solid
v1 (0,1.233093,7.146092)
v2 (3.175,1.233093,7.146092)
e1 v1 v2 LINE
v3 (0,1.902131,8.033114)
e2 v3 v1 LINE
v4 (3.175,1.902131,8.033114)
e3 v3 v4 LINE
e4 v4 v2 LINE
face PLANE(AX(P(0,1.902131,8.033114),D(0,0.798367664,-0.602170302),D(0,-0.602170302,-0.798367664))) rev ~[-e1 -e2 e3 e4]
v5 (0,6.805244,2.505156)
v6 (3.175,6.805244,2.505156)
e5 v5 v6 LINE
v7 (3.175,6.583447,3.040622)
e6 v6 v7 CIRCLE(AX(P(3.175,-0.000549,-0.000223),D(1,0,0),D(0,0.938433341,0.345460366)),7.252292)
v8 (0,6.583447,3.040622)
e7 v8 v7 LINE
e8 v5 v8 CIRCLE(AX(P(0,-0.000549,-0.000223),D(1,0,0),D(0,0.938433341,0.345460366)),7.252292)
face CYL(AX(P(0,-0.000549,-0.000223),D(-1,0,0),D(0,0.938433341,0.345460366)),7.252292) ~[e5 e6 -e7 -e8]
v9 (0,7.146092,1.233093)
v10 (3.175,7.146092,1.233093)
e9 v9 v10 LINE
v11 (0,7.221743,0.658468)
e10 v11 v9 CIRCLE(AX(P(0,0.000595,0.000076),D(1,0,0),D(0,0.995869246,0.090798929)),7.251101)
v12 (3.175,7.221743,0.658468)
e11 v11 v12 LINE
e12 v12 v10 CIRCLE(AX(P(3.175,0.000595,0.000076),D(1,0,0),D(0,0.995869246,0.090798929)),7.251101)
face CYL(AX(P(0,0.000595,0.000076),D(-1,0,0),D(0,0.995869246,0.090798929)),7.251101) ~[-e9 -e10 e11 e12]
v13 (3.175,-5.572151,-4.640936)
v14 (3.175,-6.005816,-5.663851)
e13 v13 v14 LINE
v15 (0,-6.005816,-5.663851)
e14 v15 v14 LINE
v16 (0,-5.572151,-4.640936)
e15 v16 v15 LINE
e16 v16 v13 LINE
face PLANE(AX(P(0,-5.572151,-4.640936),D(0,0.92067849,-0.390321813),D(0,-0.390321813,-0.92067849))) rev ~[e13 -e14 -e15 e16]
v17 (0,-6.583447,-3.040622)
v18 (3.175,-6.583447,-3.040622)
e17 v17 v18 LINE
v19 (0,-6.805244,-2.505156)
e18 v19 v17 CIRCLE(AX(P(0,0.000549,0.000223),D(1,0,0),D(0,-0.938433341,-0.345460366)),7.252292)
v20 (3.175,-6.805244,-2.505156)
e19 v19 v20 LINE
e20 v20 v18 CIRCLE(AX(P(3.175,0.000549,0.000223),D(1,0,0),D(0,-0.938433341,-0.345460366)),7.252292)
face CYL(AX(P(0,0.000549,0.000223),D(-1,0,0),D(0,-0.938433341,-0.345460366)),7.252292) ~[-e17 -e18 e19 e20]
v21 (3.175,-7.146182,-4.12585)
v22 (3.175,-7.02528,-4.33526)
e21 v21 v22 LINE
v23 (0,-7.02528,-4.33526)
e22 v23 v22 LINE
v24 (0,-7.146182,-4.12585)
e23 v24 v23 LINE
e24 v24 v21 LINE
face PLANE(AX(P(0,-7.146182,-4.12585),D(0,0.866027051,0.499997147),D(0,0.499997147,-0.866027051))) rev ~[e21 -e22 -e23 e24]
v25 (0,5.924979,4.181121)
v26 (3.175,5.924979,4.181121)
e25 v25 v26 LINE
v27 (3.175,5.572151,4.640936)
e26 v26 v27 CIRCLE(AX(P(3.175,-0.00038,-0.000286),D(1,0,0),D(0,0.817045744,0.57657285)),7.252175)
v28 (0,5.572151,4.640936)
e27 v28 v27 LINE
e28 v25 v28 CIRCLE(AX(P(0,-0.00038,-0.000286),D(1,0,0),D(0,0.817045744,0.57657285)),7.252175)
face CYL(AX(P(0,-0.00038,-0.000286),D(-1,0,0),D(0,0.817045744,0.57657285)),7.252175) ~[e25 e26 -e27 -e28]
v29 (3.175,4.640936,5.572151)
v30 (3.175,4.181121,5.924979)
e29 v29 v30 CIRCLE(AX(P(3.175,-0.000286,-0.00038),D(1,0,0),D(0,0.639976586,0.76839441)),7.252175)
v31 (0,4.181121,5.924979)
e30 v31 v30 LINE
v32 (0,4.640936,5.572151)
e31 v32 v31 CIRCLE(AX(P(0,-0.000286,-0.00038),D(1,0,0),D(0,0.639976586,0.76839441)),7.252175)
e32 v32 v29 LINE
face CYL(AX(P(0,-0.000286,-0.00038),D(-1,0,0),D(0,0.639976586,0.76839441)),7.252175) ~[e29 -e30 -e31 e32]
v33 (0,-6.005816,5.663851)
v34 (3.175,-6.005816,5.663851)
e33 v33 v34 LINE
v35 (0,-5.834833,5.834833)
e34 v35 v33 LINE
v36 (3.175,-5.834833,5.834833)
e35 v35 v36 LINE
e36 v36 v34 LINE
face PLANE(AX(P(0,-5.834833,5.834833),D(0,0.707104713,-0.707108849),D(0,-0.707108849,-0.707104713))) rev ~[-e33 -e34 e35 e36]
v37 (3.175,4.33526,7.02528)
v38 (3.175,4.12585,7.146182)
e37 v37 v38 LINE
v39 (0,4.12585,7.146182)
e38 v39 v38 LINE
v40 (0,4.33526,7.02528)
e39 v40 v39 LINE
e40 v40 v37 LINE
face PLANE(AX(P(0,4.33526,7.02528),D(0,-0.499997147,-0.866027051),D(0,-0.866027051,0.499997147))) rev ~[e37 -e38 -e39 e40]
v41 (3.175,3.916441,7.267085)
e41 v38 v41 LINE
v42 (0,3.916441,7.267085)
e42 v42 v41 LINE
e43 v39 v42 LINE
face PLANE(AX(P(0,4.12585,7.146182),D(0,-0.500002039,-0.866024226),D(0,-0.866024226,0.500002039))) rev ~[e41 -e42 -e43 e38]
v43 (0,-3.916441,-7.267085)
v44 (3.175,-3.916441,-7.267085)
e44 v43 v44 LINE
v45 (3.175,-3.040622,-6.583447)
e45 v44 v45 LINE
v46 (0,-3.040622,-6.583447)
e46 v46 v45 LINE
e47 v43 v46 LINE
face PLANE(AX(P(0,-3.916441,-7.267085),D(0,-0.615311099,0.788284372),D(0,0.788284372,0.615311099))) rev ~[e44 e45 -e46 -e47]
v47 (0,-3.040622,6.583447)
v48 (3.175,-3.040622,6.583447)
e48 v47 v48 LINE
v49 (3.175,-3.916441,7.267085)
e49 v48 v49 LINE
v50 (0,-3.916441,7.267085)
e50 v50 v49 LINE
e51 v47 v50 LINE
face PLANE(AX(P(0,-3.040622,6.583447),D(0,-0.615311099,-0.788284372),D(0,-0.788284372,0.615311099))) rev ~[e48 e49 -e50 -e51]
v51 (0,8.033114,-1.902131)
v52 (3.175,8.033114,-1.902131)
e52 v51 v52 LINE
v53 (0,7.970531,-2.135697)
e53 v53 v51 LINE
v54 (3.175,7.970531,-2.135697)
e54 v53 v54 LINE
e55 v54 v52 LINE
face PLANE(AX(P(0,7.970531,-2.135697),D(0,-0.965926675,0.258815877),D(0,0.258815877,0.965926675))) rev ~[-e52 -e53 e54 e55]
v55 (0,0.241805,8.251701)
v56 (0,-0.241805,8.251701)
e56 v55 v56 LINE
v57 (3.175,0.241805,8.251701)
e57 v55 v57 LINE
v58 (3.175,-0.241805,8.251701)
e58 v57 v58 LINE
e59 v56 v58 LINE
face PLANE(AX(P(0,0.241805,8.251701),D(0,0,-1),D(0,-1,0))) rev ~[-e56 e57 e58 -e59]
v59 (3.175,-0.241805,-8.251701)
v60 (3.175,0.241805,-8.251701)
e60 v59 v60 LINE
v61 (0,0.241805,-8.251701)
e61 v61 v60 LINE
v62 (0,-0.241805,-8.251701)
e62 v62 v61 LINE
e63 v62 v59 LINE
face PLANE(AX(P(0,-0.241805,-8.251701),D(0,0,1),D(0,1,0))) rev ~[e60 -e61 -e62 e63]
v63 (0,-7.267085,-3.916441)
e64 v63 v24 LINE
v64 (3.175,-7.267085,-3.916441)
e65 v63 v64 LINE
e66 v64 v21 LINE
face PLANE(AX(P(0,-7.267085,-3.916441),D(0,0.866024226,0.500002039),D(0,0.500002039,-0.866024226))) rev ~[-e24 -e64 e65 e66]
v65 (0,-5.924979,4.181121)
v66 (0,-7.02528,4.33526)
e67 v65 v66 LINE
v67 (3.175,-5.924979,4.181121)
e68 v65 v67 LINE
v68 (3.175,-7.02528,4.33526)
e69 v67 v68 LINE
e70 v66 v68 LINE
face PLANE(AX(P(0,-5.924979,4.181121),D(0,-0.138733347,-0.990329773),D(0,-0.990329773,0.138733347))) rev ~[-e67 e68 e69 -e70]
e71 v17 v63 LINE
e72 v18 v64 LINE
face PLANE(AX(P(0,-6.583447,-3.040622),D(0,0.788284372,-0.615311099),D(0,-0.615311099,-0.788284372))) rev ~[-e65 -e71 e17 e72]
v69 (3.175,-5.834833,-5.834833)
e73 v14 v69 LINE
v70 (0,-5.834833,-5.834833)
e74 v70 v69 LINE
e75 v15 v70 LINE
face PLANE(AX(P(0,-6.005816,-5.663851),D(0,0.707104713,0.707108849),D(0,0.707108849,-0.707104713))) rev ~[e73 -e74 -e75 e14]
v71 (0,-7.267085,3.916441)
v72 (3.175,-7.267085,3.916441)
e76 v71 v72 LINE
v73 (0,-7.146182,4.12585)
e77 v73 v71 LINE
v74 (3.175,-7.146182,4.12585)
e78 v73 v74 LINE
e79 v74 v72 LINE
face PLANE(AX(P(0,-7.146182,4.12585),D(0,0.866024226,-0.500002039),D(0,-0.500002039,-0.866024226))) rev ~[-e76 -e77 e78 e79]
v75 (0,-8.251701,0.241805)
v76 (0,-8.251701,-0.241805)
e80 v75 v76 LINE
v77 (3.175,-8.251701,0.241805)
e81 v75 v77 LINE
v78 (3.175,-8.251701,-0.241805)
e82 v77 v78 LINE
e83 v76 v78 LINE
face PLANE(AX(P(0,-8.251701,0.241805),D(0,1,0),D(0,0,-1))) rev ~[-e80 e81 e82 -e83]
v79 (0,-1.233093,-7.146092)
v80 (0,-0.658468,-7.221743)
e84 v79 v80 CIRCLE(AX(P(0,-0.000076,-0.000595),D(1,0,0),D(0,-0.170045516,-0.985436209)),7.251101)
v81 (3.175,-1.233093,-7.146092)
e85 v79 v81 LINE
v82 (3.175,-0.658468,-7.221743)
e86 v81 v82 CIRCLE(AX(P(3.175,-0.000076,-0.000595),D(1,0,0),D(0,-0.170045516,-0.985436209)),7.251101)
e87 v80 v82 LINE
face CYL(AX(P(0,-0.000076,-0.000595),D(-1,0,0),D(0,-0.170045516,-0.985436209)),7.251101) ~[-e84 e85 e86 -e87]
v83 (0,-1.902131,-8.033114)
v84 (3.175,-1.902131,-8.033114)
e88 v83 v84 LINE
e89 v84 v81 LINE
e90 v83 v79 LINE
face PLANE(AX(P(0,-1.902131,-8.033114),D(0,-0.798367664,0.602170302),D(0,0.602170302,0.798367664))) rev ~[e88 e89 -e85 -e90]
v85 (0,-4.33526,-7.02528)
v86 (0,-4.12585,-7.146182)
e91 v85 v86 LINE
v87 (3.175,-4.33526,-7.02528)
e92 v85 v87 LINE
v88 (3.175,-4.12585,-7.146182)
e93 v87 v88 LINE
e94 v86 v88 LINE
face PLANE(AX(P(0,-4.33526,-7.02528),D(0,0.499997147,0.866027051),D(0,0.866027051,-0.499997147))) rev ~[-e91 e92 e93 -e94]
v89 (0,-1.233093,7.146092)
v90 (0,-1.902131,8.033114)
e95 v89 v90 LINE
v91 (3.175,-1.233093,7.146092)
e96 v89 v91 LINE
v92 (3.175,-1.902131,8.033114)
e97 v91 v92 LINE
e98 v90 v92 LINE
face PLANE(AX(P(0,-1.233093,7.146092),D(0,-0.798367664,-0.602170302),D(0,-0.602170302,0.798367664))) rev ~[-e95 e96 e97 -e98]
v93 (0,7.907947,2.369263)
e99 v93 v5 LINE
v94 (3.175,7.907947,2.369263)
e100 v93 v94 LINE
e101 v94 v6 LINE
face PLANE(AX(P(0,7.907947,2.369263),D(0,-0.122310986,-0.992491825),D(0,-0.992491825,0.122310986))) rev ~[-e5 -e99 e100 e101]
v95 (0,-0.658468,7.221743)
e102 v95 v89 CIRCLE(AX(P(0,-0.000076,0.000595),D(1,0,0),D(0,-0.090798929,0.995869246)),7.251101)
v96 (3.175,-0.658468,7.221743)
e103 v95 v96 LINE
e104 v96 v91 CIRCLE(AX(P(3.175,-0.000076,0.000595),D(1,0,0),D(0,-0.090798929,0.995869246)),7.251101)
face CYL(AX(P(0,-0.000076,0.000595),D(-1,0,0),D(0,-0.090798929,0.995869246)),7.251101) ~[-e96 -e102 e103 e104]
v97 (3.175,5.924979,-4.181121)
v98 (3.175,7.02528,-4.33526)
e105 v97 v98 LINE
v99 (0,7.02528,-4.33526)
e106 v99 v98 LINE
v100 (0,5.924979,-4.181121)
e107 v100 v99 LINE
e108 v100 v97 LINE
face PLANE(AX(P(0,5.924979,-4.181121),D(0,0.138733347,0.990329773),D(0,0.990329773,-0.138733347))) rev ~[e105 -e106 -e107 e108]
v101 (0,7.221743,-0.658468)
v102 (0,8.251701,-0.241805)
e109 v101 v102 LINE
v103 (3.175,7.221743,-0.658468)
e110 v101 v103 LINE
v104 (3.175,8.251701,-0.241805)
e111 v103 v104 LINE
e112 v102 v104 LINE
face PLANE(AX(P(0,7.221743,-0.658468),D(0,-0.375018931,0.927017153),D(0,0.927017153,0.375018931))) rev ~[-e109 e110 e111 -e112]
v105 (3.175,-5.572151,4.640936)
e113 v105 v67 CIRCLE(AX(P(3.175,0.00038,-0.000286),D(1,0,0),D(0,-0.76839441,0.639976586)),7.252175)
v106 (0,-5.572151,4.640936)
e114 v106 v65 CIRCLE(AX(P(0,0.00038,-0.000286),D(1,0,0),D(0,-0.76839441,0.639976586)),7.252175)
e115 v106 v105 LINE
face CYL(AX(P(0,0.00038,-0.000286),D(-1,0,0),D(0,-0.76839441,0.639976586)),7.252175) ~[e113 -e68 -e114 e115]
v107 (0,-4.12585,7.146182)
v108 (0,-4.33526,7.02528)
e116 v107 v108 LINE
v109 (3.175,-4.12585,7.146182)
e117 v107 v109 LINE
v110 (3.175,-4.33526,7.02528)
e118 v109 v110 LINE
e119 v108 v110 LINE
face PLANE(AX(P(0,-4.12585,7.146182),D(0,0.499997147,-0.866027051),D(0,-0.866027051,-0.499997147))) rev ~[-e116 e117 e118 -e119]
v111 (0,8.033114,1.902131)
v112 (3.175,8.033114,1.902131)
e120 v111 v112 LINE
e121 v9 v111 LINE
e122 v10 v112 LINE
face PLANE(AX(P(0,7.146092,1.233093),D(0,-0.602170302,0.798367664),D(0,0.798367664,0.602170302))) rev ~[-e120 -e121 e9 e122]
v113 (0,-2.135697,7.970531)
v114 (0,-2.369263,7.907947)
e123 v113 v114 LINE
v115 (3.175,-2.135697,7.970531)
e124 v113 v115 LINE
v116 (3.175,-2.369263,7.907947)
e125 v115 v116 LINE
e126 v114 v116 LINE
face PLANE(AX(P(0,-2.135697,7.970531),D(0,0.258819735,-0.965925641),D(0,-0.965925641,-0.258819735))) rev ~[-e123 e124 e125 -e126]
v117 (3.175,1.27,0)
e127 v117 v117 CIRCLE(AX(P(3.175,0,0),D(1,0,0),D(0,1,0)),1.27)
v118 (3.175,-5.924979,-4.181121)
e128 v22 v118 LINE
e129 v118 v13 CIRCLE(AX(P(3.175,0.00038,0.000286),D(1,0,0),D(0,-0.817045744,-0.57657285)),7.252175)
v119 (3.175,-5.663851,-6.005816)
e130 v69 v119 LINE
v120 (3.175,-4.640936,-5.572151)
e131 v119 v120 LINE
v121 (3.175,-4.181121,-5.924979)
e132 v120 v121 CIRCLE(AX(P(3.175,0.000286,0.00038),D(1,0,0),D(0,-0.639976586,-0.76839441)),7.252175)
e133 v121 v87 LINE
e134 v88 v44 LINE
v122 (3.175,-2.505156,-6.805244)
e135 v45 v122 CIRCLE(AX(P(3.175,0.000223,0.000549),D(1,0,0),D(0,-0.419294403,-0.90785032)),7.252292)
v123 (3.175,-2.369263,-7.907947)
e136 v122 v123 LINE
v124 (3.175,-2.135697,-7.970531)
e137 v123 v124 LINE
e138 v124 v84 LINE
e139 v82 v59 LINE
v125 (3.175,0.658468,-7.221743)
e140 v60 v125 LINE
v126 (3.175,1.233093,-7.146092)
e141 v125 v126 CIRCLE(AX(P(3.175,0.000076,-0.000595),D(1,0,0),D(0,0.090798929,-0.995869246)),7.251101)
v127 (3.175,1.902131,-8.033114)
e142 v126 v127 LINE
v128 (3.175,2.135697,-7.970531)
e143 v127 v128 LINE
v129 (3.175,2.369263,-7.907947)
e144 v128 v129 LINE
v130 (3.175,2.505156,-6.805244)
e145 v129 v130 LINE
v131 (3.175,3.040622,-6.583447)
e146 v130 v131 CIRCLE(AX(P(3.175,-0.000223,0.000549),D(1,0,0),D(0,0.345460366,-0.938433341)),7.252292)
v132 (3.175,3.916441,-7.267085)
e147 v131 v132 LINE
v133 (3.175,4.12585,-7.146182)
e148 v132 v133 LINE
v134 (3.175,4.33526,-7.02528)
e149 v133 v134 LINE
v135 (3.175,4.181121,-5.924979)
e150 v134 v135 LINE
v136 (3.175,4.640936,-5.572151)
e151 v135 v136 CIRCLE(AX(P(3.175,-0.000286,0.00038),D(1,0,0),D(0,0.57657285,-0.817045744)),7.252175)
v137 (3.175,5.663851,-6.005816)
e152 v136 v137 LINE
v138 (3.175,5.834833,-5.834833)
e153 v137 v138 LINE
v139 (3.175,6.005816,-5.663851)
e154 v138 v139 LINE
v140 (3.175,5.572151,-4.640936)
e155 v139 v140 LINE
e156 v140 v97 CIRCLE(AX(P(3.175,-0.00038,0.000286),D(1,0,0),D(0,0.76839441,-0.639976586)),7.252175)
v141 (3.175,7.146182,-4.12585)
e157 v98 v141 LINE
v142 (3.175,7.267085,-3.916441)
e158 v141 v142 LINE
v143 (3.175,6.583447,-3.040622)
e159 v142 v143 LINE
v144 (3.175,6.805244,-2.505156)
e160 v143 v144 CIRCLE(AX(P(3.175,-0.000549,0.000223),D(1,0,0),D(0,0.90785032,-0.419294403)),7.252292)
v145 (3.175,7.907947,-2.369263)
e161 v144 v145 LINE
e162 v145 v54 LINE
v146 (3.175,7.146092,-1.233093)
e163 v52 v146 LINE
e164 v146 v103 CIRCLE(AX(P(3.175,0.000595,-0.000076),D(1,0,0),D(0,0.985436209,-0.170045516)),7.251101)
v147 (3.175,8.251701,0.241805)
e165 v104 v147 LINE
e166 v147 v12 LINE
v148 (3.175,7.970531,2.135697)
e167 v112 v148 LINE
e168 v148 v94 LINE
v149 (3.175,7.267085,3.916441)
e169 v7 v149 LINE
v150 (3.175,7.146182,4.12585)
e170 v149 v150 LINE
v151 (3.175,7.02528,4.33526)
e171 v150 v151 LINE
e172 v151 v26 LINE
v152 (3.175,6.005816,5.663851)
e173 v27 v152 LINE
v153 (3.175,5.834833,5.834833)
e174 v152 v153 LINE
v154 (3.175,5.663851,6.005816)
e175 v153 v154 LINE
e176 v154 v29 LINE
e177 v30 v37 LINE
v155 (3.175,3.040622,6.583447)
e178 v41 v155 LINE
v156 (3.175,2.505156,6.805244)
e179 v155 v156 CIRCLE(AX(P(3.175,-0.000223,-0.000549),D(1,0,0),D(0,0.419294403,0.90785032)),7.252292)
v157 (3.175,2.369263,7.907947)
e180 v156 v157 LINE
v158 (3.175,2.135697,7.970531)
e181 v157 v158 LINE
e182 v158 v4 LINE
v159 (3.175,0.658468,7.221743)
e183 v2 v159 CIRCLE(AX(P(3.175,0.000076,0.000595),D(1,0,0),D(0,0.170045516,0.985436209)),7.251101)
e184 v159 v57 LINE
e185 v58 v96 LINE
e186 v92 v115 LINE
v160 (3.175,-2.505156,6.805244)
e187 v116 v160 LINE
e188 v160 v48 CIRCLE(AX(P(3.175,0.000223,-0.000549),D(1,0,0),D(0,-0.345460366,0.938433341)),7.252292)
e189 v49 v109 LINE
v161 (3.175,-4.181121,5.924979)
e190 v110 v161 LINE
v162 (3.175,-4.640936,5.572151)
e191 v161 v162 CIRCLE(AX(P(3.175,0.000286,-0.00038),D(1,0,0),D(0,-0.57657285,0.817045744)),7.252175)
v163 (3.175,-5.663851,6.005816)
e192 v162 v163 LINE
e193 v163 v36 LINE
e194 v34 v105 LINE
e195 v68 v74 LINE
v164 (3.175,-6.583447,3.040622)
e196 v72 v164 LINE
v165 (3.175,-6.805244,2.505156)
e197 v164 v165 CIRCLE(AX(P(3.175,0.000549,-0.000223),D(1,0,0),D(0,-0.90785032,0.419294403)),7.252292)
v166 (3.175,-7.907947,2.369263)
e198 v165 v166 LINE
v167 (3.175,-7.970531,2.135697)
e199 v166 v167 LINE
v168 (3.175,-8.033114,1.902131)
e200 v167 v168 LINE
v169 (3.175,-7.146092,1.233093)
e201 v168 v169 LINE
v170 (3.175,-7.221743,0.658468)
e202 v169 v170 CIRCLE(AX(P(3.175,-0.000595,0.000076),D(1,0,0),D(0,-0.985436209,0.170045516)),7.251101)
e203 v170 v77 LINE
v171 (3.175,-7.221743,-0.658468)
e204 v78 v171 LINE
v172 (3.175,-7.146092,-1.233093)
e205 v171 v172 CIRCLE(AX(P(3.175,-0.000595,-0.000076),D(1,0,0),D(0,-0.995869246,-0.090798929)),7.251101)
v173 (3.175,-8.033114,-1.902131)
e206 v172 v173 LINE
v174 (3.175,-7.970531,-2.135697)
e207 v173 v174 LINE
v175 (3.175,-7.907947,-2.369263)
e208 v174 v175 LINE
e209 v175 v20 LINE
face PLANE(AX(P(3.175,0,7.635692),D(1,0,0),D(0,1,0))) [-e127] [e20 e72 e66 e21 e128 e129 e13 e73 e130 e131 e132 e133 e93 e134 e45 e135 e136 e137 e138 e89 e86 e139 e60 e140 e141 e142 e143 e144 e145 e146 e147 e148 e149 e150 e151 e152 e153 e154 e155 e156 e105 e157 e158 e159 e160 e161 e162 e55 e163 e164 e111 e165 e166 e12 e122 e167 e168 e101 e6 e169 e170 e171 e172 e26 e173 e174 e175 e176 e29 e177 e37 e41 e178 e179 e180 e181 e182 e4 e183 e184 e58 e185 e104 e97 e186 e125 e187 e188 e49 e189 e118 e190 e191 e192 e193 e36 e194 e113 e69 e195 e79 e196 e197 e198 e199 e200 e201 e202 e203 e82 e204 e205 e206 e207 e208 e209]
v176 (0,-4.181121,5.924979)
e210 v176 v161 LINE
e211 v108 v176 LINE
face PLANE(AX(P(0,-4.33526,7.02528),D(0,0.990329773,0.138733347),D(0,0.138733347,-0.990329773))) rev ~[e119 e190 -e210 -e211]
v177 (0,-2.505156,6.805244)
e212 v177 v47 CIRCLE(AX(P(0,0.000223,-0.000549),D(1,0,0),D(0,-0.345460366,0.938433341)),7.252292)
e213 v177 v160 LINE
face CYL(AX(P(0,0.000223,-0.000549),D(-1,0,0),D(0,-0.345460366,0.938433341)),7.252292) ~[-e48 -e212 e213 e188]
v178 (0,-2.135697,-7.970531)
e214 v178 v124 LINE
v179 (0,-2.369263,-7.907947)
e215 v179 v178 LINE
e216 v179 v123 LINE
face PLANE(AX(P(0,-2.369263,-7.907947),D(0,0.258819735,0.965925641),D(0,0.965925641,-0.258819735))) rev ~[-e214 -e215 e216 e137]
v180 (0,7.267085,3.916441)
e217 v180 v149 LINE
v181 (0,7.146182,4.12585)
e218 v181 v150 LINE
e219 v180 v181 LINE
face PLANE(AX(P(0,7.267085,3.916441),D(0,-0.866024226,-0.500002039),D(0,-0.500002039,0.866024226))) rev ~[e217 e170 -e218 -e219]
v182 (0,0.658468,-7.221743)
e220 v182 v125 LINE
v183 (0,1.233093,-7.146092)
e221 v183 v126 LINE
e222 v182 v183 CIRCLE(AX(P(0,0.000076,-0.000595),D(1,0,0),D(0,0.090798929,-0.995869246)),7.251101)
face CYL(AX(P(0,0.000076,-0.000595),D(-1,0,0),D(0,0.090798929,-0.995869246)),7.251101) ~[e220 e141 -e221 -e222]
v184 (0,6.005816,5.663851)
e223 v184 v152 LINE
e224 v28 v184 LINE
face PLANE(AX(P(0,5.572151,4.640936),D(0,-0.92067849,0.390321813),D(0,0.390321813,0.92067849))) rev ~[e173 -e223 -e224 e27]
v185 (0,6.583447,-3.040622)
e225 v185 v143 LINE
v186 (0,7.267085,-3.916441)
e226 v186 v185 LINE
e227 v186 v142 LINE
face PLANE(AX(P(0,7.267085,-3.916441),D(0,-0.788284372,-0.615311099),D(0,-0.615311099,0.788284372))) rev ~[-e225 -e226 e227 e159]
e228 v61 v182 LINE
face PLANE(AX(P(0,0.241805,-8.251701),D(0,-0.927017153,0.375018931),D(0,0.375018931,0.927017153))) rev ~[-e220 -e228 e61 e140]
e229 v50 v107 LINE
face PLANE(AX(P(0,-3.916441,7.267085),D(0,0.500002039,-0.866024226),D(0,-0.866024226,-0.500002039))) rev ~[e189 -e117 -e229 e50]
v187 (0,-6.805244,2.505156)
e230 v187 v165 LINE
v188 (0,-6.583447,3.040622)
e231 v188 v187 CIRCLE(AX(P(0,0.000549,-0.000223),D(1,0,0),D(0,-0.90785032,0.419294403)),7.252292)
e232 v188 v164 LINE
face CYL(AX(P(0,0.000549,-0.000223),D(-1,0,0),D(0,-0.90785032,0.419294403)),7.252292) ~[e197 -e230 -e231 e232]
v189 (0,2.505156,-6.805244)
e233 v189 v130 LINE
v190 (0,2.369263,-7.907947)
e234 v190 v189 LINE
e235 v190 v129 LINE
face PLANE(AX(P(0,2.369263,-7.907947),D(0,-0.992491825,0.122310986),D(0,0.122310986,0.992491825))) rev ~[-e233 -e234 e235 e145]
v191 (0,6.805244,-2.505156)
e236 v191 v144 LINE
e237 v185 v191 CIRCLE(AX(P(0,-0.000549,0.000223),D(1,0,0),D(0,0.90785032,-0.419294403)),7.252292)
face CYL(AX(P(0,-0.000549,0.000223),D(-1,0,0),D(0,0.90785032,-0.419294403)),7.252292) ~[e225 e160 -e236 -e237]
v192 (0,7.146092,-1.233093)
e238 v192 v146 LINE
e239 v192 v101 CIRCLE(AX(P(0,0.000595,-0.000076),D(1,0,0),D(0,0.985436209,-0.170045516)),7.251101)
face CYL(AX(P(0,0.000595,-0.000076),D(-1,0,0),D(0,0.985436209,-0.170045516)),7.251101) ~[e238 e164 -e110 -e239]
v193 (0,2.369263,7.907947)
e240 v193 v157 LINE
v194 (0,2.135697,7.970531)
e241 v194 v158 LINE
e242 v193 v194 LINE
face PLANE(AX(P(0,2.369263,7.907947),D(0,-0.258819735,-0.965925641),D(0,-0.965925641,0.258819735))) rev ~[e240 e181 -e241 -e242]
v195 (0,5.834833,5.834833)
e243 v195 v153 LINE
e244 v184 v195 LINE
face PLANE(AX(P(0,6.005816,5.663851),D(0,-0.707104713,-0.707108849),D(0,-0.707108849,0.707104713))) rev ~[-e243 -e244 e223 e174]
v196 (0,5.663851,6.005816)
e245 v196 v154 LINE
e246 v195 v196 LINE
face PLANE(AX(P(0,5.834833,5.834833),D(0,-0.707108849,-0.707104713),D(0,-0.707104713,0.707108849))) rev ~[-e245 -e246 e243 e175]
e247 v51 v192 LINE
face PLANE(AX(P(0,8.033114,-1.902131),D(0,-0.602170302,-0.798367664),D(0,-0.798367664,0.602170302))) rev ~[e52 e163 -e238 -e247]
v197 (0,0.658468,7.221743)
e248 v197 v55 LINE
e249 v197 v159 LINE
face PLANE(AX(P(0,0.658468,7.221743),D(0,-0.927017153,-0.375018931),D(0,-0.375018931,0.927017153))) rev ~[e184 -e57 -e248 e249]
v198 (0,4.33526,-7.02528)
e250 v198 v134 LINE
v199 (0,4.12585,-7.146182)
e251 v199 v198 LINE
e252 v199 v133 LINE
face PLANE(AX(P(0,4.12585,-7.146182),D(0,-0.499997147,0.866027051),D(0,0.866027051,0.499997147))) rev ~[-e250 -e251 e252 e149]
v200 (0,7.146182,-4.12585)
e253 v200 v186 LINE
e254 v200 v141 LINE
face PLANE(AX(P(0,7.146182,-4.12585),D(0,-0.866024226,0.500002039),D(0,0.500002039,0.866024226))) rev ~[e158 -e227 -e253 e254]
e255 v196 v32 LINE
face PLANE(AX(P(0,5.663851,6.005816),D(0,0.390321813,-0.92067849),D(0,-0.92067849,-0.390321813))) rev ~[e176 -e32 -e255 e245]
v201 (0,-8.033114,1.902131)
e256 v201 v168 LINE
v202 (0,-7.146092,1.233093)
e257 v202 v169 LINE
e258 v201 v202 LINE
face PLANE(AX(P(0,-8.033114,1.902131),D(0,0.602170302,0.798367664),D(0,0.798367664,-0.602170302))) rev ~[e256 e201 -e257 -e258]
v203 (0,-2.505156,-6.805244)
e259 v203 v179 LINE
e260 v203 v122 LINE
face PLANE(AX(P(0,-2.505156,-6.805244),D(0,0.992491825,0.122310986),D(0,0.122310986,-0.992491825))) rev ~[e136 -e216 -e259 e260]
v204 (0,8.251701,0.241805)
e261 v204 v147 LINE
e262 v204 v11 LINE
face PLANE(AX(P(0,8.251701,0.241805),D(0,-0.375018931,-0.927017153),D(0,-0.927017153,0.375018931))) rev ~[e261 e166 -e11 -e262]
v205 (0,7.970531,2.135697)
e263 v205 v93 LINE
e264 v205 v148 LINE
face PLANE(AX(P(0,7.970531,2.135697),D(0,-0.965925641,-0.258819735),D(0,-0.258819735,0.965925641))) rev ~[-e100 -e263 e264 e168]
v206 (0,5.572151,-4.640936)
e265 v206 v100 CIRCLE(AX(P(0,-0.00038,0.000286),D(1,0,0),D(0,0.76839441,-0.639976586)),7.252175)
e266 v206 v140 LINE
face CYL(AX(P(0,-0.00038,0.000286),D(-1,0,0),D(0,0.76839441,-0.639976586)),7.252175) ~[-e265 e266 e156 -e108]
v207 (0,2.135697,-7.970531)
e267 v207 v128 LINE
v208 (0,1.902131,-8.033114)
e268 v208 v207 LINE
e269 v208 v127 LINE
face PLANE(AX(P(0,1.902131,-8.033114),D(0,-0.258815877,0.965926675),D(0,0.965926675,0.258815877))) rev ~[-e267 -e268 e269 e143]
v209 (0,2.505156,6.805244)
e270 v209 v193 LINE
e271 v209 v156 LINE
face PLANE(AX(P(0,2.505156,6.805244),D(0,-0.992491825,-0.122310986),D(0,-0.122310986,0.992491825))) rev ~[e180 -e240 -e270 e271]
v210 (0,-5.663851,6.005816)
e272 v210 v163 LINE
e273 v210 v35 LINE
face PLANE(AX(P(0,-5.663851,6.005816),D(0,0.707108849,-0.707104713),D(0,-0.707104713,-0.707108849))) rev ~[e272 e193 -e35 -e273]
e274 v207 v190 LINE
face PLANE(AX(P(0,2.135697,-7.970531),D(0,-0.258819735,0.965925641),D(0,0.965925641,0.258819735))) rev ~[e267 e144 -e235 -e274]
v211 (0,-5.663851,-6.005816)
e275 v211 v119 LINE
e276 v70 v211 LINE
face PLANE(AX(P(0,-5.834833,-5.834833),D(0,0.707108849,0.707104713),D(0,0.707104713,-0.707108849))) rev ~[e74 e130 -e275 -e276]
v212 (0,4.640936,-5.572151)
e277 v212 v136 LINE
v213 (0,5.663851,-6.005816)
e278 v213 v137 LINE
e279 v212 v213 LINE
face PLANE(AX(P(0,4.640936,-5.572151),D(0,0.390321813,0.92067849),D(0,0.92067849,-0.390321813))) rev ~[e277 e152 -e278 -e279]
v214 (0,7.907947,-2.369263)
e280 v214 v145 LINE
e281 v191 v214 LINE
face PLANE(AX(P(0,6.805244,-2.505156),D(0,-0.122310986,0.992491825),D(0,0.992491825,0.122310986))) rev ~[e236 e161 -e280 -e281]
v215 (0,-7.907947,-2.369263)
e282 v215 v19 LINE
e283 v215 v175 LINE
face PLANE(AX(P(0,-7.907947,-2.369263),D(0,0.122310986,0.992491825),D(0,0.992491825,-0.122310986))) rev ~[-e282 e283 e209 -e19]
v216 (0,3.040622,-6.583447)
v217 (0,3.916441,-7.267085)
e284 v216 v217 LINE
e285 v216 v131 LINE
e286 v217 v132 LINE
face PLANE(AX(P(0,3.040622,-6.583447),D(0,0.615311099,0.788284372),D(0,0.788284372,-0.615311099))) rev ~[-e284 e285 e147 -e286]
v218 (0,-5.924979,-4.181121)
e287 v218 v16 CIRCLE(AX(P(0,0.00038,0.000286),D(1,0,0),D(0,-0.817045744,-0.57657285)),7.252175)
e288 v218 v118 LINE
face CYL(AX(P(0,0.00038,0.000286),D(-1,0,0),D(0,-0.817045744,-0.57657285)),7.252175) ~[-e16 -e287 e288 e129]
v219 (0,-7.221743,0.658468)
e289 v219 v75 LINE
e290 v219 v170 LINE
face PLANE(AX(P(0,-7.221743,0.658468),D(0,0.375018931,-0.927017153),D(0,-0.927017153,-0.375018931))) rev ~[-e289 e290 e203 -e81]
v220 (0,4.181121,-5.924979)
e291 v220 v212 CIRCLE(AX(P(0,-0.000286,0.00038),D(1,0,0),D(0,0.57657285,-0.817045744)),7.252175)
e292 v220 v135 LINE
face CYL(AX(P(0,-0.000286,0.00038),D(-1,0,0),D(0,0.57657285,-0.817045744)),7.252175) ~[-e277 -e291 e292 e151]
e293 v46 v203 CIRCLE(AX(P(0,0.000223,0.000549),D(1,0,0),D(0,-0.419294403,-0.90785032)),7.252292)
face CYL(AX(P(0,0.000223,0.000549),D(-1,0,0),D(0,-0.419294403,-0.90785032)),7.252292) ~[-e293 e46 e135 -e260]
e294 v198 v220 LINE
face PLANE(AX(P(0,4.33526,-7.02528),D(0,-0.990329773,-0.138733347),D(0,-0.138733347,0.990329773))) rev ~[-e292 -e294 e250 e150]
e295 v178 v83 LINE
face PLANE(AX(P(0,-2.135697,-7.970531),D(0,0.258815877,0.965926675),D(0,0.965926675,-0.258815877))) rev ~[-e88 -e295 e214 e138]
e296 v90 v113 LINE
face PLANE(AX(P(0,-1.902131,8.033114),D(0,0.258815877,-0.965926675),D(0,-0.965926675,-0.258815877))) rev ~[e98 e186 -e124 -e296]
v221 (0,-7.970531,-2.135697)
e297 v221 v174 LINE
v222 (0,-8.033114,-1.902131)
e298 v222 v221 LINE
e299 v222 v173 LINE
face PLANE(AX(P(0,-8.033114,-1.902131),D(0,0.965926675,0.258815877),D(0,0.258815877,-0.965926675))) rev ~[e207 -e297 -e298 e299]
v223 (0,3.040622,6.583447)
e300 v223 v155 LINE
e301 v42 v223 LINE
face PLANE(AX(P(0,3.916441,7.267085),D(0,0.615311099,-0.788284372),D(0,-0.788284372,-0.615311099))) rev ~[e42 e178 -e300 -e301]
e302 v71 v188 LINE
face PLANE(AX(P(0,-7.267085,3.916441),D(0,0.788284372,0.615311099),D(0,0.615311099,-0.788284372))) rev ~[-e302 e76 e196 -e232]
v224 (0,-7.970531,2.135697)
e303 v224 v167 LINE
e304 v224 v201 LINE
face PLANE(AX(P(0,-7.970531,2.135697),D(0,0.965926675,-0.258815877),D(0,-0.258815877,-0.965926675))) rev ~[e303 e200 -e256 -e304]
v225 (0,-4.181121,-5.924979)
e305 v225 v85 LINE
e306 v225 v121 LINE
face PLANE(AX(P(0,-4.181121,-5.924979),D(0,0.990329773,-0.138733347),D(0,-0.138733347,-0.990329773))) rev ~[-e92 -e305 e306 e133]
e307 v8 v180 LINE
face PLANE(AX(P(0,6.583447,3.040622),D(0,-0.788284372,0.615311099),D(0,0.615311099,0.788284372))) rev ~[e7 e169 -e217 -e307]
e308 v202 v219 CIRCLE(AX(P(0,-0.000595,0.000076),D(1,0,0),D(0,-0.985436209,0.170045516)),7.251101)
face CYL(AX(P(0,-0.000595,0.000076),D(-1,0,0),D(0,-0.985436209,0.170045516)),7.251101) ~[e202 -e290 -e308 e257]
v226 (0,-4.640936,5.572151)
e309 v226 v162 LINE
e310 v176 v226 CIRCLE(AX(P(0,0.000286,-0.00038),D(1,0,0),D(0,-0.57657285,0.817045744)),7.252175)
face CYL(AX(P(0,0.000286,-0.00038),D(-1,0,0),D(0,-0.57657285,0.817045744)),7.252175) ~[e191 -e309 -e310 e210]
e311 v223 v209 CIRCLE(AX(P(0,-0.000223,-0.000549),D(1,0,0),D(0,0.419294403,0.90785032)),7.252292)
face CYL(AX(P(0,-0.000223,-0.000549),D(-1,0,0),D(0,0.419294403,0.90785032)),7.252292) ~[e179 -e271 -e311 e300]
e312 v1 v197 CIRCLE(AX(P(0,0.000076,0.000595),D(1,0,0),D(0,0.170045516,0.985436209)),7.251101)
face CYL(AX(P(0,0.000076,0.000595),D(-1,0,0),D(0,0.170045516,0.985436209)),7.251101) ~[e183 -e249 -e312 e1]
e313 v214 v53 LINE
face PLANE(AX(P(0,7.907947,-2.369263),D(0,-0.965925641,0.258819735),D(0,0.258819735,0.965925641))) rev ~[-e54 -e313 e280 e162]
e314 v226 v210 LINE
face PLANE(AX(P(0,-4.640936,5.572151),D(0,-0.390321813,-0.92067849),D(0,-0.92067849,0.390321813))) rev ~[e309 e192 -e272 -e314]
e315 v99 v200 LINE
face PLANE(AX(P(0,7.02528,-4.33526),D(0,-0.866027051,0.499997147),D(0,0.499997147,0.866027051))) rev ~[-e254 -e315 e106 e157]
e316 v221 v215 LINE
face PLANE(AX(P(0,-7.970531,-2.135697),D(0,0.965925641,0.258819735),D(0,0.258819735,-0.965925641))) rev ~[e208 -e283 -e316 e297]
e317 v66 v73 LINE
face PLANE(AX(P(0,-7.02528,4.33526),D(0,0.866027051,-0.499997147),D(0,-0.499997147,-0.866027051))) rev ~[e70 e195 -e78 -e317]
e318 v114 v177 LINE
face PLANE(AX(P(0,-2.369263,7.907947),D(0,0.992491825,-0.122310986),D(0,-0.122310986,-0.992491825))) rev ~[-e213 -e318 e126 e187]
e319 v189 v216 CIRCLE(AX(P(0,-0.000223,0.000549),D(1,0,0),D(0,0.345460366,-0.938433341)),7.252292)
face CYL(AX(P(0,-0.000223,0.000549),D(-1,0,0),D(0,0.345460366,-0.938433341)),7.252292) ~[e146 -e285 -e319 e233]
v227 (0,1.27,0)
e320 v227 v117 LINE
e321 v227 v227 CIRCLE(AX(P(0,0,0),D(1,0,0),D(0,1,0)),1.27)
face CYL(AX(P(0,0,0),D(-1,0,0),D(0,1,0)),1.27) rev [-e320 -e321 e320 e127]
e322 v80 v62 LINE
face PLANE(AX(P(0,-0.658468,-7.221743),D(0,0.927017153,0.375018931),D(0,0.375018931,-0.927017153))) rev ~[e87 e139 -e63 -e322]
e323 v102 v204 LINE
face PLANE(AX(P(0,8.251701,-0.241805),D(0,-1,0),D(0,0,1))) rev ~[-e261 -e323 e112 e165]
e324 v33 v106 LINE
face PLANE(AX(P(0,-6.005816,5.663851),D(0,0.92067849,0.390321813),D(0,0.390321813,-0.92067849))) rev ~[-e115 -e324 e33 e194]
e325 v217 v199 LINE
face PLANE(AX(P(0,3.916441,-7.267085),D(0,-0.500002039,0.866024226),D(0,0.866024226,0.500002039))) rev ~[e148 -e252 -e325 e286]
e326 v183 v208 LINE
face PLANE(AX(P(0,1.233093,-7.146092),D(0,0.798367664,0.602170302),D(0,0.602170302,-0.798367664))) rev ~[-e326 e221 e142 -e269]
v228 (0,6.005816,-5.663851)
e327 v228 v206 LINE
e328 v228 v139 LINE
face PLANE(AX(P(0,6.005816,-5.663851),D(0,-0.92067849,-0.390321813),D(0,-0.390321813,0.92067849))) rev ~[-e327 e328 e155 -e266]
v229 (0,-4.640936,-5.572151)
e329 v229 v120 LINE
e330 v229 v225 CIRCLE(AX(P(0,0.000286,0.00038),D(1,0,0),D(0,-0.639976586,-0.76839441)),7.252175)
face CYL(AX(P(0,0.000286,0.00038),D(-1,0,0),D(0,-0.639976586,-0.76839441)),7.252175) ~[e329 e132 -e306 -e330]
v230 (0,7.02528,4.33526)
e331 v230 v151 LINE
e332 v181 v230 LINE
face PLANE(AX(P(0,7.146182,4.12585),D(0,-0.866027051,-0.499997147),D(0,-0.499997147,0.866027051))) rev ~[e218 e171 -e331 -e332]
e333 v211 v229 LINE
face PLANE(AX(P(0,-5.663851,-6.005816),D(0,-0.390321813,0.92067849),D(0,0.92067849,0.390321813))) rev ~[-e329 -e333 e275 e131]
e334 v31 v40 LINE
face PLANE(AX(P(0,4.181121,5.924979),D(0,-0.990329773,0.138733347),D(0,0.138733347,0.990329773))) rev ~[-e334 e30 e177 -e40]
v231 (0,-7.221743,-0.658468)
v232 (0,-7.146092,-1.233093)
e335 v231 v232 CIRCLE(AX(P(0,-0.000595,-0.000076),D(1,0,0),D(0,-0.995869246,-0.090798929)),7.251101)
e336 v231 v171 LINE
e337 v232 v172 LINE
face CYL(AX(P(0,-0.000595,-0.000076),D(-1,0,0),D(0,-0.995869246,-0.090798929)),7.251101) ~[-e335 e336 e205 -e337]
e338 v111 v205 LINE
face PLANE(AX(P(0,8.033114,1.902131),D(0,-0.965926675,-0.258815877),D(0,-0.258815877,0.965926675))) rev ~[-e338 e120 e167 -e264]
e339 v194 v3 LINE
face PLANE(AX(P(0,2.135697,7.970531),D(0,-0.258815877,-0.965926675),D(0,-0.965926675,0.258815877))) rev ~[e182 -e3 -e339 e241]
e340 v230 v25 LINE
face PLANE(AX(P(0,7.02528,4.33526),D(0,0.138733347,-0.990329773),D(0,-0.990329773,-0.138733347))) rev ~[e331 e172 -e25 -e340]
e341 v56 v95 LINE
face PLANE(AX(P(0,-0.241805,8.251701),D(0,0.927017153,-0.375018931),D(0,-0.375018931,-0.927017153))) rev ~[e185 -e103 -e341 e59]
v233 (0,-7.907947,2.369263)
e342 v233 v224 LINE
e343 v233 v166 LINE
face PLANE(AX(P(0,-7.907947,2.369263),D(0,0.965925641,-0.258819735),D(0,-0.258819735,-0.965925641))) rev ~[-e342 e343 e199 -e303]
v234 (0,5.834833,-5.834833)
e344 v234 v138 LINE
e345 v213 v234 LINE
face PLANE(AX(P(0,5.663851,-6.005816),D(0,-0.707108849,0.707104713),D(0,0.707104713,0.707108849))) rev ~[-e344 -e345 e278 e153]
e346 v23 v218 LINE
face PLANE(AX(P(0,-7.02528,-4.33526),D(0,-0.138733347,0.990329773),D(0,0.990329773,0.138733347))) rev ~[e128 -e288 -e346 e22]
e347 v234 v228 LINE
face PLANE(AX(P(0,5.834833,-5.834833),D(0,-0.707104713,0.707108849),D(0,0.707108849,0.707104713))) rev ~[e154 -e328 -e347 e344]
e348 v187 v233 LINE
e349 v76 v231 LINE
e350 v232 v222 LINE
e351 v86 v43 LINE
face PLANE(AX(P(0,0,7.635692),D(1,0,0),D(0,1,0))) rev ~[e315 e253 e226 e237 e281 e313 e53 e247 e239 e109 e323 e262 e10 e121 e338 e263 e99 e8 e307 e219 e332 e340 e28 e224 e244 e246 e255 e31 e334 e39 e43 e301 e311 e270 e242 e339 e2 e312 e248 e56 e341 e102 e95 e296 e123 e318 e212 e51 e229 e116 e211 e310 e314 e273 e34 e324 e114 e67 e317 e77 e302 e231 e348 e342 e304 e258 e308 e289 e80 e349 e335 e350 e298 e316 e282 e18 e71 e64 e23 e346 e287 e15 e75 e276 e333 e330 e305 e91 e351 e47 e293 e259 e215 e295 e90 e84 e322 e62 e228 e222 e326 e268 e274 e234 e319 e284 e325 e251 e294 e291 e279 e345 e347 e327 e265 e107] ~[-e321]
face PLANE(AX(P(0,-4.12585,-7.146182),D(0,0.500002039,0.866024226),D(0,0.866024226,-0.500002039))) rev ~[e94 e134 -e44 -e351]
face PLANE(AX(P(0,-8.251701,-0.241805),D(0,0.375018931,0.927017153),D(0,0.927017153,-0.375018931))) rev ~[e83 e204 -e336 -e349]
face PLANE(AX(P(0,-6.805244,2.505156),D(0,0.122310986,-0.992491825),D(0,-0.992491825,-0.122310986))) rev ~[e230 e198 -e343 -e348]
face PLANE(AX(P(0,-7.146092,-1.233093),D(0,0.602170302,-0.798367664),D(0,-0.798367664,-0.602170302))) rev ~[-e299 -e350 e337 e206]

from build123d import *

# Parameters (mm, degrees)
F0_R     = 1.27
F1_DEPTH = 3.175


with BuildPart() as f1:
    # F0 (on Right) → F1 (new body)
    with BuildSketch(Plane.YZ):
        with BuildLine():
            ThreePointArc((-0.658468, 7.221743), (0, 7.2517), (0.658468, 7.221743))
            Line((0.658468, 7.221743), (0.241805, 8.251701))
            Line((0.241805, 8.251701), (0, 8.251701))
            Line((0, 8.251701), (-0.241805, 8.251701))
            Line((-0.241805, 8.251701), (-0.658468, 7.221743))
        make_face()
        with BuildLine():
            ThreePointArc((7.221743, -0.658468), (7.244207, -0.329575), (7.2517, 0))
            ThreePointArc((7.2517, 0), (7.244207, 0.329575), (7.221743, 0.658468))
            ThreePointArc((7.221743, 0.658468), (7.189661, 0.946537), (7.146092, 1.233093))
            ThreePointArc((7.146092, 1.233093), (7.004604, 1.876878), (6.805244, 2.505156))
            ThreePointArc((6.805244, 2.505156), (6.699697, 2.775105), (6.583447, 3.040622))
            ThreePointArc((6.583447, 3.040622), (6.280156, 3.62585), (5.924979, 4.181121))
            ThreePointArc((5.924979, 4.181121), (5.75316, 4.414555), (5.572151, 4.640936))
            ThreePointArc((5.572151, 4.640936), (5.127726, 5.127726), (4.640936, 5.572151))
            ThreePointArc((4.640936, 5.572151), (4.414555, 5.75316), (4.181121, 5.924979))
            ThreePointArc((4.181121, 5.924979), (3.62585, 6.280156), (3.040622, 6.583447))
            ThreePointArc((3.040622, 6.583447), (2.775105, 6.699697), (2.505156, 6.805244))
            ThreePointArc((2.505156, 6.805244), (1.876878, 7.004604), (1.233093, 7.146092))
            ThreePointArc((1.233093, 7.146092), (0.946537, 7.189661), (0.658468, 7.221743))
            ThreePointArc((0.658468, 7.221743), (0, 7.2517), (-0.658468, 7.221743))
            ThreePointArc((-0.658468, 7.221743), (-0.946537, 7.189661), (-1.233093, 7.146092))
            ThreePointArc((-1.233093, 7.146092), (-1.876878, 7.004604), (-2.505156, 6.805244))
            ThreePointArc((-2.505156, 6.805244), (-2.775105, 6.699697), (-3.040622, 6.583447))
            ThreePointArc((-3.040622, 6.583447), (-3.62585, 6.280156), (-4.181121, 5.924979))
            ThreePointArc((-4.181121, 5.924979), (-4.414555, 5.75316), (-4.640936, 5.572151))
            ThreePointArc((-4.640936, 5.572151), (-5.127726, 5.127726), (-5.572151, 4.640936))
            ThreePointArc((-5.572151, 4.640936), (-5.75316, 4.414555), (-5.924979, 4.181121))
            ThreePointArc((-5.924979, 4.181121), (-6.280156, 3.62585), (-6.583447, 3.040622))
            ThreePointArc((-6.583447, 3.040622), (-6.699697, 2.775105), (-6.805244, 2.505156))
            ThreePointArc((-6.805244, 2.505156), (-7.004604, 1.876878), (-7.146092, 1.233093))
            ThreePointArc((-7.146092, 1.233093), (-7.189661, 0.946537), (-7.221743, 0.658468))
            ThreePointArc((-7.221743, 0.658468), (-7.2517, 0), (-7.221743, -0.658468))
            ThreePointArc((-7.221743, -0.658468), (-7.189661, -0.946537), (-7.146092, -1.233093))
            ThreePointArc((-7.146092, -1.233093), (-7.004604, -1.876878), (-6.805244, -2.505156))
            ThreePointArc((-6.805244, -2.505156), (-6.699697, -2.775105), (-6.583447, -3.040622))
            ThreePointArc((-6.583447, -3.040622), (-6.280156, -3.62585), (-5.924979, -4.181121))
            ThreePointArc((-5.924979, -4.181121), (-5.75316, -4.414555), (-5.572151, -4.640936))
            ThreePointArc((-5.572151, -4.640936), (-5.127726, -5.127726), (-4.640936, -5.572151))
            ThreePointArc((-4.640936, -5.572151), (-4.414555, -5.75316), (-4.181121, -5.924979))
            ThreePointArc((-4.181121, -5.924979), (-3.62585, -6.280156), (-3.040622, -6.583447))
            ThreePointArc((-3.040622, -6.583447), (-2.775105, -6.699697), (-2.505156, -6.805244))
            ThreePointArc((-2.505156, -6.805244), (-1.876878, -7.004604), (-1.233093, -7.146092))
            ThreePointArc((-1.233093, -7.146092), (-0.946537, -7.189661), (-0.658468, -7.221743))
            ThreePointArc((-0.658468, -7.221743), (0, -7.2517), (0.658468, -7.221743))
            ThreePointArc((0.658468, -7.221743), (0.946537, -7.189661), (1.233093, -7.146092))
            ThreePointArc((1.233093, -7.146092), (1.876878, -7.004604), (2.505156, -6.805244))
            ThreePointArc((2.505156, -6.805244), (2.775105, -6.699697), (3.040622, -6.583447))
            ThreePointArc((3.040622, -6.583447), (3.62585, -6.280156), (4.181121, -5.924979))
            ThreePointArc((4.181121, -5.924979), (4.414555, -5.75316), (4.640936, -5.572151))
            ThreePointArc((4.640936, -5.572151), (5.127726, -5.127726), (5.572151, -4.640936))
            ThreePointArc((5.572151, -4.640936), (5.75316, -4.414555), (5.924979, -4.181121))
            ThreePointArc((5.924979, -4.181121), (6.280156, -3.62585), (6.583447, -3.040622))
            ThreePointArc((6.583447, -3.040622), (6.699697, -2.775105), (6.805244, -2.505156))
            ThreePointArc((6.805244, -2.505156), (7.004604, -1.876878), (7.146092, -1.233093))
            ThreePointArc((7.146092, -1.233093), (7.189661, -0.946537), (7.221743, -0.658468))
        make_face()
        Circle(F0_R, mode=Mode.SUBTRACT)
        with BuildLine():
            ThreePointArc((1.233093, 7.146092), (1.876878, 7.004604), (2.505156, 6.805244))
            Line((2.505156, 6.805244), (2.369263, 7.907947))
            Line((2.369263, 7.907947), (2.135697, 7.970531))
            Line((2.135697, 7.970531), (1.902131, 8.033114))
            Line((1.902131, 8.033114), (1.233093, 7.146092))
        make_face()
        with BuildLine():
            ThreePointArc((3.040622, 6.583447), (3.62585, 6.280156), (4.181121, 5.924979))
            Line((4.181121, 5.924979), (4.33526, 7.02528))
            Line((4.33526, 7.02528), (4.12585, 7.146182))
            Line((4.12585, 7.146182), (3.916441, 7.267085))
            Line((3.916441, 7.267085), (3.040622, 6.583447))
        make_face()
        with BuildLine():
            ThreePointArc((4.640936, 5.572151), (5.127726, 5.127726), (5.572151, 4.640936))
            Line((5.572151, 4.640936), (6.005816, 5.663851))
            Line((6.005816, 5.663851), (5.834833, 5.834833))
            Line((5.834833, 5.834833), (5.663851, 6.005816))
            Line((5.663851, 6.005816), (4.640936, 5.572151))
        make_face()
        with BuildLine():
            ThreePointArc((5.924979, 4.181121), (6.280156, 3.62585), (6.583447, 3.040622))
            Line((6.583447, 3.040622), (7.267085, 3.916441))
            Line((7.267085, 3.916441), (7.146182, 4.12585))
            Line((7.146182, 4.12585), (7.02528, 4.33526))
            Line((7.02528, 4.33526), (5.924979, 4.181121))
        make_face()
        with BuildLine():
            ThreePointArc((6.805244, 2.505156), (7.004604, 1.876878), (7.146092, 1.233093))
            Line((7.146092, 1.233093), (8.033114, 1.902131))
            Line((8.033114, 1.902131), (7.970531, 2.135697))
            Line((7.970531, 2.135697), (7.907947, 2.369263))
            Line((7.907947, 2.369263), (6.805244, 2.505156))
        make_face()
        with BuildLine():
            ThreePointArc((7.221743, 0.658468), (7.244207, 0.329575), (7.2517, 0))
            ThreePointArc((7.2517, 0), (7.244207, -0.329575), (7.221743, -0.658468))
            Line((7.221743, -0.658468), (8.251701, -0.241805))
            Line((8.251701, -0.241805), (8.251701, 0))
            Line((8.251701, 0), (8.251701, 0.241805))
            Line((8.251701, 0.241805), (7.221743, 0.658468))
        make_face()
        with BuildLine():
            Line((8.033114, -1.902131), (7.146092, -1.233093))
            ThreePointArc((7.146092, -1.233093), (7.004604, -1.876878), (6.805244, -2.505156))
            Line((6.805244, -2.505156), (7.907947, -2.369263))
            Line((7.907947, -2.369263), (7.970531, -2.135697))
            Line((7.970531, -2.135697), (8.033114, -1.902131))
        make_face()
        with BuildLine():
            Line((7.267085, -3.916441), (6.583447, -3.040622))
            ThreePointArc((6.583447, -3.040622), (6.280156, -3.62585), (5.924979, -4.181121))
            Line((5.924979, -4.181121), (7.02528, -4.33526))
            Line((7.02528, -4.33526), (7.146182, -4.12585))
            Line((7.146182, -4.12585), (7.267085, -3.916441))
        make_face()
        with BuildLine():
            Line((6.005816, -5.663851), (5.572151, -4.640936))
            ThreePointArc((5.572151, -4.640936), (5.127726, -5.127726), (4.640936, -5.572151))
            Line((4.640936, -5.572151), (5.663851, -6.005816))
            Line((5.663851, -6.005816), (5.834833, -5.834833))
            Line((5.834833, -5.834833), (6.005816, -5.663851))
        make_face()
        with BuildLine():
            Line((4.33526, -7.02528), (4.181121, -5.924979))
            ThreePointArc((4.181121, -5.924979), (3.62585, -6.280156), (3.040622, -6.583447))
            Line((3.040622, -6.583447), (3.916441, -7.267085))
            Line((3.916441, -7.267085), (4.12585, -7.146182))
            Line((4.12585, -7.146182), (4.33526, -7.02528))
        make_face()
        with BuildLine():
            Line((2.369263, -7.907947), (2.505156, -6.805244))
            ThreePointArc((2.505156, -6.805244), (1.876878, -7.004604), (1.233093, -7.146092))
            Line((1.233093, -7.146092), (1.902131, -8.033114))
            Line((1.902131, -8.033114), (2.135697, -7.970531))
            Line((2.135697, -7.970531), (2.369263, -7.907947))
        make_face()
        with BuildLine():
            Line((0.241805, -8.251701), (0.658468, -7.221743))
            ThreePointArc((0.658468, -7.221743), (0, -7.2517), (-0.658468, -7.221743))
            Line((-0.658468, -7.221743), (-0.241805, -8.251701))
            Line((-0.241805, -8.251701), (0, -8.251701))
            Line((0, -8.251701), (0.241805, -8.251701))
        make_face()
        with BuildLine():
            Line((-1.902131, -8.033114), (-1.233093, -7.146092))
            ThreePointArc((-1.233093, -7.146092), (-1.876878, -7.004604), (-2.505156, -6.805244))
            Line((-2.505156, -6.805244), (-2.369263, -7.907947))
            Line((-2.369263, -7.907947), (-2.135697, -7.970531))
            Line((-2.135697, -7.970531), (-1.902131, -8.033114))
        make_face()
        with BuildLine():
            Line((-3.916441, -7.267085), (-3.040622, -6.583447))
            ThreePointArc((-3.040622, -6.583447), (-3.62585, -6.280156), (-4.181121, -5.924979))
            Line((-4.181121, -5.924979), (-4.33526, -7.02528))
            Line((-4.33526, -7.02528), (-4.12585, -7.146182))
            Line((-4.12585, -7.146182), (-3.916441, -7.267085))
        make_face()
        with BuildLine():
            Line((-5.663851, -6.005816), (-4.640936, -5.572151))
            ThreePointArc((-4.640936, -5.572151), (-5.127726, -5.127726), (-5.572151, -4.640936))
            Line((-5.572151, -4.640936), (-6.005816, -5.663851))
            Line((-6.005816, -5.663851), (-5.834833, -5.834833))
            Line((-5.834833, -5.834833), (-5.663851, -6.005816))
        make_face()
        with BuildLine():
            Line((-7.02528, -4.33526), (-5.924979, -4.181121))
            ThreePointArc((-5.924979, -4.181121), (-6.280156, -3.62585), (-6.583447, -3.040622))
            Line((-6.583447, -3.040622), (-7.267085, -3.916441))
            Line((-7.267085, -3.916441), (-7.146182, -4.12585))
            Line((-7.146182, -4.12585), (-7.02528, -4.33526))
        make_face()
        with BuildLine():
            ThreePointArc((-7.221743, -0.658468), (-7.2517, 0), (-7.221743, 0.658468))
            Line((-7.221743, 0.658468), (-8.251701, 0.241805))
            Line((-8.251701, 0.241805), (-8.251701, 0))
            Line((-8.251701, 0), (-8.251701, -0.241805))
            Line((-8.251701, -0.241805), (-7.221743, -0.658468))
        make_face()
        with BuildLine():
            ThreePointArc((-7.146092, 1.233093), (-7.004604, 1.876878), (-6.805244, 2.505156))
            Line((-6.805244, 2.505156), (-7.907947, 2.369263))
            Line((-7.907947, 2.369263), (-7.970531, 2.135697))
            Line((-7.970531, 2.135697), (-8.033114, 1.902131))
            Line((-8.033114, 1.902131), (-7.146092, 1.233093))
        make_face()
        with BuildLine():
            ThreePointArc((-6.583447, 3.040622), (-6.280156, 3.62585), (-5.924979, 4.181121))
            Line((-5.924979, 4.181121), (-7.02528, 4.33526))
            Line((-7.02528, 4.33526), (-7.146182, 4.12585))
            Line((-7.146182, 4.12585), (-7.267085, 3.916441))
            Line((-7.267085, 3.916441), (-6.583447, 3.040622))
        make_face()
        with BuildLine():
            ThreePointArc((-5.572151, 4.640936), (-5.127726, 5.127726), (-4.640936, 5.572151))
            Line((-4.640936, 5.572151), (-5.663851, 6.005816))
            Line((-5.663851, 6.005816), (-5.834833, 5.834833))
            Line((-5.834833, 5.834833), (-6.005816, 5.663851))
            Line((-6.005816, 5.663851), (-5.572151, 4.640936))
        make_face()
        with BuildLine():
            ThreePointArc((-4.181121, 5.924979), (-3.62585, 6.280156), (-3.040622, 6.583447))
            Line((-3.040622, 6.583447), (-3.916441, 7.267085))
            Line((-3.916441, 7.267085), (-4.12585, 7.146182))
            Line((-4.12585, 7.146182), (-4.33526, 7.02528))
            Line((-4.33526, 7.02528), (-4.181121, 5.924979))
        make_face()
        with BuildLine():
            ThreePointArc((-2.505156, 6.805244), (-1.876878, 7.004604), (-1.233093, 7.146092))
            Line((-1.233093, 7.146092), (-1.902131, 8.033114))
            Line((-1.902131, 8.033114), (-2.135697, 7.970531))
            Line((-2.135697, 7.970531), (-2.369263, 7.907947))
            Line((-2.369263, 7.907947), (-2.505156, 6.805244))
        make_face()
        with BuildLine():
            Line((-7.907947, -2.369263), (-6.805244, -2.505156))
            ThreePointArc((-6.805244, -2.505156), (-7.004604, -1.876878), (-7.146092, -1.233093))
            Line((-7.146092, -1.233093), (-8.033114, -1.902131))
            Line((-8.033114, -1.902131), (-7.970531, -2.135697))
            Line((-7.970531, -2.135697), (-7.907947, -2.369263))
        make_face()
    extrude(amount=F1_DEPTH)


solid = f1.part
